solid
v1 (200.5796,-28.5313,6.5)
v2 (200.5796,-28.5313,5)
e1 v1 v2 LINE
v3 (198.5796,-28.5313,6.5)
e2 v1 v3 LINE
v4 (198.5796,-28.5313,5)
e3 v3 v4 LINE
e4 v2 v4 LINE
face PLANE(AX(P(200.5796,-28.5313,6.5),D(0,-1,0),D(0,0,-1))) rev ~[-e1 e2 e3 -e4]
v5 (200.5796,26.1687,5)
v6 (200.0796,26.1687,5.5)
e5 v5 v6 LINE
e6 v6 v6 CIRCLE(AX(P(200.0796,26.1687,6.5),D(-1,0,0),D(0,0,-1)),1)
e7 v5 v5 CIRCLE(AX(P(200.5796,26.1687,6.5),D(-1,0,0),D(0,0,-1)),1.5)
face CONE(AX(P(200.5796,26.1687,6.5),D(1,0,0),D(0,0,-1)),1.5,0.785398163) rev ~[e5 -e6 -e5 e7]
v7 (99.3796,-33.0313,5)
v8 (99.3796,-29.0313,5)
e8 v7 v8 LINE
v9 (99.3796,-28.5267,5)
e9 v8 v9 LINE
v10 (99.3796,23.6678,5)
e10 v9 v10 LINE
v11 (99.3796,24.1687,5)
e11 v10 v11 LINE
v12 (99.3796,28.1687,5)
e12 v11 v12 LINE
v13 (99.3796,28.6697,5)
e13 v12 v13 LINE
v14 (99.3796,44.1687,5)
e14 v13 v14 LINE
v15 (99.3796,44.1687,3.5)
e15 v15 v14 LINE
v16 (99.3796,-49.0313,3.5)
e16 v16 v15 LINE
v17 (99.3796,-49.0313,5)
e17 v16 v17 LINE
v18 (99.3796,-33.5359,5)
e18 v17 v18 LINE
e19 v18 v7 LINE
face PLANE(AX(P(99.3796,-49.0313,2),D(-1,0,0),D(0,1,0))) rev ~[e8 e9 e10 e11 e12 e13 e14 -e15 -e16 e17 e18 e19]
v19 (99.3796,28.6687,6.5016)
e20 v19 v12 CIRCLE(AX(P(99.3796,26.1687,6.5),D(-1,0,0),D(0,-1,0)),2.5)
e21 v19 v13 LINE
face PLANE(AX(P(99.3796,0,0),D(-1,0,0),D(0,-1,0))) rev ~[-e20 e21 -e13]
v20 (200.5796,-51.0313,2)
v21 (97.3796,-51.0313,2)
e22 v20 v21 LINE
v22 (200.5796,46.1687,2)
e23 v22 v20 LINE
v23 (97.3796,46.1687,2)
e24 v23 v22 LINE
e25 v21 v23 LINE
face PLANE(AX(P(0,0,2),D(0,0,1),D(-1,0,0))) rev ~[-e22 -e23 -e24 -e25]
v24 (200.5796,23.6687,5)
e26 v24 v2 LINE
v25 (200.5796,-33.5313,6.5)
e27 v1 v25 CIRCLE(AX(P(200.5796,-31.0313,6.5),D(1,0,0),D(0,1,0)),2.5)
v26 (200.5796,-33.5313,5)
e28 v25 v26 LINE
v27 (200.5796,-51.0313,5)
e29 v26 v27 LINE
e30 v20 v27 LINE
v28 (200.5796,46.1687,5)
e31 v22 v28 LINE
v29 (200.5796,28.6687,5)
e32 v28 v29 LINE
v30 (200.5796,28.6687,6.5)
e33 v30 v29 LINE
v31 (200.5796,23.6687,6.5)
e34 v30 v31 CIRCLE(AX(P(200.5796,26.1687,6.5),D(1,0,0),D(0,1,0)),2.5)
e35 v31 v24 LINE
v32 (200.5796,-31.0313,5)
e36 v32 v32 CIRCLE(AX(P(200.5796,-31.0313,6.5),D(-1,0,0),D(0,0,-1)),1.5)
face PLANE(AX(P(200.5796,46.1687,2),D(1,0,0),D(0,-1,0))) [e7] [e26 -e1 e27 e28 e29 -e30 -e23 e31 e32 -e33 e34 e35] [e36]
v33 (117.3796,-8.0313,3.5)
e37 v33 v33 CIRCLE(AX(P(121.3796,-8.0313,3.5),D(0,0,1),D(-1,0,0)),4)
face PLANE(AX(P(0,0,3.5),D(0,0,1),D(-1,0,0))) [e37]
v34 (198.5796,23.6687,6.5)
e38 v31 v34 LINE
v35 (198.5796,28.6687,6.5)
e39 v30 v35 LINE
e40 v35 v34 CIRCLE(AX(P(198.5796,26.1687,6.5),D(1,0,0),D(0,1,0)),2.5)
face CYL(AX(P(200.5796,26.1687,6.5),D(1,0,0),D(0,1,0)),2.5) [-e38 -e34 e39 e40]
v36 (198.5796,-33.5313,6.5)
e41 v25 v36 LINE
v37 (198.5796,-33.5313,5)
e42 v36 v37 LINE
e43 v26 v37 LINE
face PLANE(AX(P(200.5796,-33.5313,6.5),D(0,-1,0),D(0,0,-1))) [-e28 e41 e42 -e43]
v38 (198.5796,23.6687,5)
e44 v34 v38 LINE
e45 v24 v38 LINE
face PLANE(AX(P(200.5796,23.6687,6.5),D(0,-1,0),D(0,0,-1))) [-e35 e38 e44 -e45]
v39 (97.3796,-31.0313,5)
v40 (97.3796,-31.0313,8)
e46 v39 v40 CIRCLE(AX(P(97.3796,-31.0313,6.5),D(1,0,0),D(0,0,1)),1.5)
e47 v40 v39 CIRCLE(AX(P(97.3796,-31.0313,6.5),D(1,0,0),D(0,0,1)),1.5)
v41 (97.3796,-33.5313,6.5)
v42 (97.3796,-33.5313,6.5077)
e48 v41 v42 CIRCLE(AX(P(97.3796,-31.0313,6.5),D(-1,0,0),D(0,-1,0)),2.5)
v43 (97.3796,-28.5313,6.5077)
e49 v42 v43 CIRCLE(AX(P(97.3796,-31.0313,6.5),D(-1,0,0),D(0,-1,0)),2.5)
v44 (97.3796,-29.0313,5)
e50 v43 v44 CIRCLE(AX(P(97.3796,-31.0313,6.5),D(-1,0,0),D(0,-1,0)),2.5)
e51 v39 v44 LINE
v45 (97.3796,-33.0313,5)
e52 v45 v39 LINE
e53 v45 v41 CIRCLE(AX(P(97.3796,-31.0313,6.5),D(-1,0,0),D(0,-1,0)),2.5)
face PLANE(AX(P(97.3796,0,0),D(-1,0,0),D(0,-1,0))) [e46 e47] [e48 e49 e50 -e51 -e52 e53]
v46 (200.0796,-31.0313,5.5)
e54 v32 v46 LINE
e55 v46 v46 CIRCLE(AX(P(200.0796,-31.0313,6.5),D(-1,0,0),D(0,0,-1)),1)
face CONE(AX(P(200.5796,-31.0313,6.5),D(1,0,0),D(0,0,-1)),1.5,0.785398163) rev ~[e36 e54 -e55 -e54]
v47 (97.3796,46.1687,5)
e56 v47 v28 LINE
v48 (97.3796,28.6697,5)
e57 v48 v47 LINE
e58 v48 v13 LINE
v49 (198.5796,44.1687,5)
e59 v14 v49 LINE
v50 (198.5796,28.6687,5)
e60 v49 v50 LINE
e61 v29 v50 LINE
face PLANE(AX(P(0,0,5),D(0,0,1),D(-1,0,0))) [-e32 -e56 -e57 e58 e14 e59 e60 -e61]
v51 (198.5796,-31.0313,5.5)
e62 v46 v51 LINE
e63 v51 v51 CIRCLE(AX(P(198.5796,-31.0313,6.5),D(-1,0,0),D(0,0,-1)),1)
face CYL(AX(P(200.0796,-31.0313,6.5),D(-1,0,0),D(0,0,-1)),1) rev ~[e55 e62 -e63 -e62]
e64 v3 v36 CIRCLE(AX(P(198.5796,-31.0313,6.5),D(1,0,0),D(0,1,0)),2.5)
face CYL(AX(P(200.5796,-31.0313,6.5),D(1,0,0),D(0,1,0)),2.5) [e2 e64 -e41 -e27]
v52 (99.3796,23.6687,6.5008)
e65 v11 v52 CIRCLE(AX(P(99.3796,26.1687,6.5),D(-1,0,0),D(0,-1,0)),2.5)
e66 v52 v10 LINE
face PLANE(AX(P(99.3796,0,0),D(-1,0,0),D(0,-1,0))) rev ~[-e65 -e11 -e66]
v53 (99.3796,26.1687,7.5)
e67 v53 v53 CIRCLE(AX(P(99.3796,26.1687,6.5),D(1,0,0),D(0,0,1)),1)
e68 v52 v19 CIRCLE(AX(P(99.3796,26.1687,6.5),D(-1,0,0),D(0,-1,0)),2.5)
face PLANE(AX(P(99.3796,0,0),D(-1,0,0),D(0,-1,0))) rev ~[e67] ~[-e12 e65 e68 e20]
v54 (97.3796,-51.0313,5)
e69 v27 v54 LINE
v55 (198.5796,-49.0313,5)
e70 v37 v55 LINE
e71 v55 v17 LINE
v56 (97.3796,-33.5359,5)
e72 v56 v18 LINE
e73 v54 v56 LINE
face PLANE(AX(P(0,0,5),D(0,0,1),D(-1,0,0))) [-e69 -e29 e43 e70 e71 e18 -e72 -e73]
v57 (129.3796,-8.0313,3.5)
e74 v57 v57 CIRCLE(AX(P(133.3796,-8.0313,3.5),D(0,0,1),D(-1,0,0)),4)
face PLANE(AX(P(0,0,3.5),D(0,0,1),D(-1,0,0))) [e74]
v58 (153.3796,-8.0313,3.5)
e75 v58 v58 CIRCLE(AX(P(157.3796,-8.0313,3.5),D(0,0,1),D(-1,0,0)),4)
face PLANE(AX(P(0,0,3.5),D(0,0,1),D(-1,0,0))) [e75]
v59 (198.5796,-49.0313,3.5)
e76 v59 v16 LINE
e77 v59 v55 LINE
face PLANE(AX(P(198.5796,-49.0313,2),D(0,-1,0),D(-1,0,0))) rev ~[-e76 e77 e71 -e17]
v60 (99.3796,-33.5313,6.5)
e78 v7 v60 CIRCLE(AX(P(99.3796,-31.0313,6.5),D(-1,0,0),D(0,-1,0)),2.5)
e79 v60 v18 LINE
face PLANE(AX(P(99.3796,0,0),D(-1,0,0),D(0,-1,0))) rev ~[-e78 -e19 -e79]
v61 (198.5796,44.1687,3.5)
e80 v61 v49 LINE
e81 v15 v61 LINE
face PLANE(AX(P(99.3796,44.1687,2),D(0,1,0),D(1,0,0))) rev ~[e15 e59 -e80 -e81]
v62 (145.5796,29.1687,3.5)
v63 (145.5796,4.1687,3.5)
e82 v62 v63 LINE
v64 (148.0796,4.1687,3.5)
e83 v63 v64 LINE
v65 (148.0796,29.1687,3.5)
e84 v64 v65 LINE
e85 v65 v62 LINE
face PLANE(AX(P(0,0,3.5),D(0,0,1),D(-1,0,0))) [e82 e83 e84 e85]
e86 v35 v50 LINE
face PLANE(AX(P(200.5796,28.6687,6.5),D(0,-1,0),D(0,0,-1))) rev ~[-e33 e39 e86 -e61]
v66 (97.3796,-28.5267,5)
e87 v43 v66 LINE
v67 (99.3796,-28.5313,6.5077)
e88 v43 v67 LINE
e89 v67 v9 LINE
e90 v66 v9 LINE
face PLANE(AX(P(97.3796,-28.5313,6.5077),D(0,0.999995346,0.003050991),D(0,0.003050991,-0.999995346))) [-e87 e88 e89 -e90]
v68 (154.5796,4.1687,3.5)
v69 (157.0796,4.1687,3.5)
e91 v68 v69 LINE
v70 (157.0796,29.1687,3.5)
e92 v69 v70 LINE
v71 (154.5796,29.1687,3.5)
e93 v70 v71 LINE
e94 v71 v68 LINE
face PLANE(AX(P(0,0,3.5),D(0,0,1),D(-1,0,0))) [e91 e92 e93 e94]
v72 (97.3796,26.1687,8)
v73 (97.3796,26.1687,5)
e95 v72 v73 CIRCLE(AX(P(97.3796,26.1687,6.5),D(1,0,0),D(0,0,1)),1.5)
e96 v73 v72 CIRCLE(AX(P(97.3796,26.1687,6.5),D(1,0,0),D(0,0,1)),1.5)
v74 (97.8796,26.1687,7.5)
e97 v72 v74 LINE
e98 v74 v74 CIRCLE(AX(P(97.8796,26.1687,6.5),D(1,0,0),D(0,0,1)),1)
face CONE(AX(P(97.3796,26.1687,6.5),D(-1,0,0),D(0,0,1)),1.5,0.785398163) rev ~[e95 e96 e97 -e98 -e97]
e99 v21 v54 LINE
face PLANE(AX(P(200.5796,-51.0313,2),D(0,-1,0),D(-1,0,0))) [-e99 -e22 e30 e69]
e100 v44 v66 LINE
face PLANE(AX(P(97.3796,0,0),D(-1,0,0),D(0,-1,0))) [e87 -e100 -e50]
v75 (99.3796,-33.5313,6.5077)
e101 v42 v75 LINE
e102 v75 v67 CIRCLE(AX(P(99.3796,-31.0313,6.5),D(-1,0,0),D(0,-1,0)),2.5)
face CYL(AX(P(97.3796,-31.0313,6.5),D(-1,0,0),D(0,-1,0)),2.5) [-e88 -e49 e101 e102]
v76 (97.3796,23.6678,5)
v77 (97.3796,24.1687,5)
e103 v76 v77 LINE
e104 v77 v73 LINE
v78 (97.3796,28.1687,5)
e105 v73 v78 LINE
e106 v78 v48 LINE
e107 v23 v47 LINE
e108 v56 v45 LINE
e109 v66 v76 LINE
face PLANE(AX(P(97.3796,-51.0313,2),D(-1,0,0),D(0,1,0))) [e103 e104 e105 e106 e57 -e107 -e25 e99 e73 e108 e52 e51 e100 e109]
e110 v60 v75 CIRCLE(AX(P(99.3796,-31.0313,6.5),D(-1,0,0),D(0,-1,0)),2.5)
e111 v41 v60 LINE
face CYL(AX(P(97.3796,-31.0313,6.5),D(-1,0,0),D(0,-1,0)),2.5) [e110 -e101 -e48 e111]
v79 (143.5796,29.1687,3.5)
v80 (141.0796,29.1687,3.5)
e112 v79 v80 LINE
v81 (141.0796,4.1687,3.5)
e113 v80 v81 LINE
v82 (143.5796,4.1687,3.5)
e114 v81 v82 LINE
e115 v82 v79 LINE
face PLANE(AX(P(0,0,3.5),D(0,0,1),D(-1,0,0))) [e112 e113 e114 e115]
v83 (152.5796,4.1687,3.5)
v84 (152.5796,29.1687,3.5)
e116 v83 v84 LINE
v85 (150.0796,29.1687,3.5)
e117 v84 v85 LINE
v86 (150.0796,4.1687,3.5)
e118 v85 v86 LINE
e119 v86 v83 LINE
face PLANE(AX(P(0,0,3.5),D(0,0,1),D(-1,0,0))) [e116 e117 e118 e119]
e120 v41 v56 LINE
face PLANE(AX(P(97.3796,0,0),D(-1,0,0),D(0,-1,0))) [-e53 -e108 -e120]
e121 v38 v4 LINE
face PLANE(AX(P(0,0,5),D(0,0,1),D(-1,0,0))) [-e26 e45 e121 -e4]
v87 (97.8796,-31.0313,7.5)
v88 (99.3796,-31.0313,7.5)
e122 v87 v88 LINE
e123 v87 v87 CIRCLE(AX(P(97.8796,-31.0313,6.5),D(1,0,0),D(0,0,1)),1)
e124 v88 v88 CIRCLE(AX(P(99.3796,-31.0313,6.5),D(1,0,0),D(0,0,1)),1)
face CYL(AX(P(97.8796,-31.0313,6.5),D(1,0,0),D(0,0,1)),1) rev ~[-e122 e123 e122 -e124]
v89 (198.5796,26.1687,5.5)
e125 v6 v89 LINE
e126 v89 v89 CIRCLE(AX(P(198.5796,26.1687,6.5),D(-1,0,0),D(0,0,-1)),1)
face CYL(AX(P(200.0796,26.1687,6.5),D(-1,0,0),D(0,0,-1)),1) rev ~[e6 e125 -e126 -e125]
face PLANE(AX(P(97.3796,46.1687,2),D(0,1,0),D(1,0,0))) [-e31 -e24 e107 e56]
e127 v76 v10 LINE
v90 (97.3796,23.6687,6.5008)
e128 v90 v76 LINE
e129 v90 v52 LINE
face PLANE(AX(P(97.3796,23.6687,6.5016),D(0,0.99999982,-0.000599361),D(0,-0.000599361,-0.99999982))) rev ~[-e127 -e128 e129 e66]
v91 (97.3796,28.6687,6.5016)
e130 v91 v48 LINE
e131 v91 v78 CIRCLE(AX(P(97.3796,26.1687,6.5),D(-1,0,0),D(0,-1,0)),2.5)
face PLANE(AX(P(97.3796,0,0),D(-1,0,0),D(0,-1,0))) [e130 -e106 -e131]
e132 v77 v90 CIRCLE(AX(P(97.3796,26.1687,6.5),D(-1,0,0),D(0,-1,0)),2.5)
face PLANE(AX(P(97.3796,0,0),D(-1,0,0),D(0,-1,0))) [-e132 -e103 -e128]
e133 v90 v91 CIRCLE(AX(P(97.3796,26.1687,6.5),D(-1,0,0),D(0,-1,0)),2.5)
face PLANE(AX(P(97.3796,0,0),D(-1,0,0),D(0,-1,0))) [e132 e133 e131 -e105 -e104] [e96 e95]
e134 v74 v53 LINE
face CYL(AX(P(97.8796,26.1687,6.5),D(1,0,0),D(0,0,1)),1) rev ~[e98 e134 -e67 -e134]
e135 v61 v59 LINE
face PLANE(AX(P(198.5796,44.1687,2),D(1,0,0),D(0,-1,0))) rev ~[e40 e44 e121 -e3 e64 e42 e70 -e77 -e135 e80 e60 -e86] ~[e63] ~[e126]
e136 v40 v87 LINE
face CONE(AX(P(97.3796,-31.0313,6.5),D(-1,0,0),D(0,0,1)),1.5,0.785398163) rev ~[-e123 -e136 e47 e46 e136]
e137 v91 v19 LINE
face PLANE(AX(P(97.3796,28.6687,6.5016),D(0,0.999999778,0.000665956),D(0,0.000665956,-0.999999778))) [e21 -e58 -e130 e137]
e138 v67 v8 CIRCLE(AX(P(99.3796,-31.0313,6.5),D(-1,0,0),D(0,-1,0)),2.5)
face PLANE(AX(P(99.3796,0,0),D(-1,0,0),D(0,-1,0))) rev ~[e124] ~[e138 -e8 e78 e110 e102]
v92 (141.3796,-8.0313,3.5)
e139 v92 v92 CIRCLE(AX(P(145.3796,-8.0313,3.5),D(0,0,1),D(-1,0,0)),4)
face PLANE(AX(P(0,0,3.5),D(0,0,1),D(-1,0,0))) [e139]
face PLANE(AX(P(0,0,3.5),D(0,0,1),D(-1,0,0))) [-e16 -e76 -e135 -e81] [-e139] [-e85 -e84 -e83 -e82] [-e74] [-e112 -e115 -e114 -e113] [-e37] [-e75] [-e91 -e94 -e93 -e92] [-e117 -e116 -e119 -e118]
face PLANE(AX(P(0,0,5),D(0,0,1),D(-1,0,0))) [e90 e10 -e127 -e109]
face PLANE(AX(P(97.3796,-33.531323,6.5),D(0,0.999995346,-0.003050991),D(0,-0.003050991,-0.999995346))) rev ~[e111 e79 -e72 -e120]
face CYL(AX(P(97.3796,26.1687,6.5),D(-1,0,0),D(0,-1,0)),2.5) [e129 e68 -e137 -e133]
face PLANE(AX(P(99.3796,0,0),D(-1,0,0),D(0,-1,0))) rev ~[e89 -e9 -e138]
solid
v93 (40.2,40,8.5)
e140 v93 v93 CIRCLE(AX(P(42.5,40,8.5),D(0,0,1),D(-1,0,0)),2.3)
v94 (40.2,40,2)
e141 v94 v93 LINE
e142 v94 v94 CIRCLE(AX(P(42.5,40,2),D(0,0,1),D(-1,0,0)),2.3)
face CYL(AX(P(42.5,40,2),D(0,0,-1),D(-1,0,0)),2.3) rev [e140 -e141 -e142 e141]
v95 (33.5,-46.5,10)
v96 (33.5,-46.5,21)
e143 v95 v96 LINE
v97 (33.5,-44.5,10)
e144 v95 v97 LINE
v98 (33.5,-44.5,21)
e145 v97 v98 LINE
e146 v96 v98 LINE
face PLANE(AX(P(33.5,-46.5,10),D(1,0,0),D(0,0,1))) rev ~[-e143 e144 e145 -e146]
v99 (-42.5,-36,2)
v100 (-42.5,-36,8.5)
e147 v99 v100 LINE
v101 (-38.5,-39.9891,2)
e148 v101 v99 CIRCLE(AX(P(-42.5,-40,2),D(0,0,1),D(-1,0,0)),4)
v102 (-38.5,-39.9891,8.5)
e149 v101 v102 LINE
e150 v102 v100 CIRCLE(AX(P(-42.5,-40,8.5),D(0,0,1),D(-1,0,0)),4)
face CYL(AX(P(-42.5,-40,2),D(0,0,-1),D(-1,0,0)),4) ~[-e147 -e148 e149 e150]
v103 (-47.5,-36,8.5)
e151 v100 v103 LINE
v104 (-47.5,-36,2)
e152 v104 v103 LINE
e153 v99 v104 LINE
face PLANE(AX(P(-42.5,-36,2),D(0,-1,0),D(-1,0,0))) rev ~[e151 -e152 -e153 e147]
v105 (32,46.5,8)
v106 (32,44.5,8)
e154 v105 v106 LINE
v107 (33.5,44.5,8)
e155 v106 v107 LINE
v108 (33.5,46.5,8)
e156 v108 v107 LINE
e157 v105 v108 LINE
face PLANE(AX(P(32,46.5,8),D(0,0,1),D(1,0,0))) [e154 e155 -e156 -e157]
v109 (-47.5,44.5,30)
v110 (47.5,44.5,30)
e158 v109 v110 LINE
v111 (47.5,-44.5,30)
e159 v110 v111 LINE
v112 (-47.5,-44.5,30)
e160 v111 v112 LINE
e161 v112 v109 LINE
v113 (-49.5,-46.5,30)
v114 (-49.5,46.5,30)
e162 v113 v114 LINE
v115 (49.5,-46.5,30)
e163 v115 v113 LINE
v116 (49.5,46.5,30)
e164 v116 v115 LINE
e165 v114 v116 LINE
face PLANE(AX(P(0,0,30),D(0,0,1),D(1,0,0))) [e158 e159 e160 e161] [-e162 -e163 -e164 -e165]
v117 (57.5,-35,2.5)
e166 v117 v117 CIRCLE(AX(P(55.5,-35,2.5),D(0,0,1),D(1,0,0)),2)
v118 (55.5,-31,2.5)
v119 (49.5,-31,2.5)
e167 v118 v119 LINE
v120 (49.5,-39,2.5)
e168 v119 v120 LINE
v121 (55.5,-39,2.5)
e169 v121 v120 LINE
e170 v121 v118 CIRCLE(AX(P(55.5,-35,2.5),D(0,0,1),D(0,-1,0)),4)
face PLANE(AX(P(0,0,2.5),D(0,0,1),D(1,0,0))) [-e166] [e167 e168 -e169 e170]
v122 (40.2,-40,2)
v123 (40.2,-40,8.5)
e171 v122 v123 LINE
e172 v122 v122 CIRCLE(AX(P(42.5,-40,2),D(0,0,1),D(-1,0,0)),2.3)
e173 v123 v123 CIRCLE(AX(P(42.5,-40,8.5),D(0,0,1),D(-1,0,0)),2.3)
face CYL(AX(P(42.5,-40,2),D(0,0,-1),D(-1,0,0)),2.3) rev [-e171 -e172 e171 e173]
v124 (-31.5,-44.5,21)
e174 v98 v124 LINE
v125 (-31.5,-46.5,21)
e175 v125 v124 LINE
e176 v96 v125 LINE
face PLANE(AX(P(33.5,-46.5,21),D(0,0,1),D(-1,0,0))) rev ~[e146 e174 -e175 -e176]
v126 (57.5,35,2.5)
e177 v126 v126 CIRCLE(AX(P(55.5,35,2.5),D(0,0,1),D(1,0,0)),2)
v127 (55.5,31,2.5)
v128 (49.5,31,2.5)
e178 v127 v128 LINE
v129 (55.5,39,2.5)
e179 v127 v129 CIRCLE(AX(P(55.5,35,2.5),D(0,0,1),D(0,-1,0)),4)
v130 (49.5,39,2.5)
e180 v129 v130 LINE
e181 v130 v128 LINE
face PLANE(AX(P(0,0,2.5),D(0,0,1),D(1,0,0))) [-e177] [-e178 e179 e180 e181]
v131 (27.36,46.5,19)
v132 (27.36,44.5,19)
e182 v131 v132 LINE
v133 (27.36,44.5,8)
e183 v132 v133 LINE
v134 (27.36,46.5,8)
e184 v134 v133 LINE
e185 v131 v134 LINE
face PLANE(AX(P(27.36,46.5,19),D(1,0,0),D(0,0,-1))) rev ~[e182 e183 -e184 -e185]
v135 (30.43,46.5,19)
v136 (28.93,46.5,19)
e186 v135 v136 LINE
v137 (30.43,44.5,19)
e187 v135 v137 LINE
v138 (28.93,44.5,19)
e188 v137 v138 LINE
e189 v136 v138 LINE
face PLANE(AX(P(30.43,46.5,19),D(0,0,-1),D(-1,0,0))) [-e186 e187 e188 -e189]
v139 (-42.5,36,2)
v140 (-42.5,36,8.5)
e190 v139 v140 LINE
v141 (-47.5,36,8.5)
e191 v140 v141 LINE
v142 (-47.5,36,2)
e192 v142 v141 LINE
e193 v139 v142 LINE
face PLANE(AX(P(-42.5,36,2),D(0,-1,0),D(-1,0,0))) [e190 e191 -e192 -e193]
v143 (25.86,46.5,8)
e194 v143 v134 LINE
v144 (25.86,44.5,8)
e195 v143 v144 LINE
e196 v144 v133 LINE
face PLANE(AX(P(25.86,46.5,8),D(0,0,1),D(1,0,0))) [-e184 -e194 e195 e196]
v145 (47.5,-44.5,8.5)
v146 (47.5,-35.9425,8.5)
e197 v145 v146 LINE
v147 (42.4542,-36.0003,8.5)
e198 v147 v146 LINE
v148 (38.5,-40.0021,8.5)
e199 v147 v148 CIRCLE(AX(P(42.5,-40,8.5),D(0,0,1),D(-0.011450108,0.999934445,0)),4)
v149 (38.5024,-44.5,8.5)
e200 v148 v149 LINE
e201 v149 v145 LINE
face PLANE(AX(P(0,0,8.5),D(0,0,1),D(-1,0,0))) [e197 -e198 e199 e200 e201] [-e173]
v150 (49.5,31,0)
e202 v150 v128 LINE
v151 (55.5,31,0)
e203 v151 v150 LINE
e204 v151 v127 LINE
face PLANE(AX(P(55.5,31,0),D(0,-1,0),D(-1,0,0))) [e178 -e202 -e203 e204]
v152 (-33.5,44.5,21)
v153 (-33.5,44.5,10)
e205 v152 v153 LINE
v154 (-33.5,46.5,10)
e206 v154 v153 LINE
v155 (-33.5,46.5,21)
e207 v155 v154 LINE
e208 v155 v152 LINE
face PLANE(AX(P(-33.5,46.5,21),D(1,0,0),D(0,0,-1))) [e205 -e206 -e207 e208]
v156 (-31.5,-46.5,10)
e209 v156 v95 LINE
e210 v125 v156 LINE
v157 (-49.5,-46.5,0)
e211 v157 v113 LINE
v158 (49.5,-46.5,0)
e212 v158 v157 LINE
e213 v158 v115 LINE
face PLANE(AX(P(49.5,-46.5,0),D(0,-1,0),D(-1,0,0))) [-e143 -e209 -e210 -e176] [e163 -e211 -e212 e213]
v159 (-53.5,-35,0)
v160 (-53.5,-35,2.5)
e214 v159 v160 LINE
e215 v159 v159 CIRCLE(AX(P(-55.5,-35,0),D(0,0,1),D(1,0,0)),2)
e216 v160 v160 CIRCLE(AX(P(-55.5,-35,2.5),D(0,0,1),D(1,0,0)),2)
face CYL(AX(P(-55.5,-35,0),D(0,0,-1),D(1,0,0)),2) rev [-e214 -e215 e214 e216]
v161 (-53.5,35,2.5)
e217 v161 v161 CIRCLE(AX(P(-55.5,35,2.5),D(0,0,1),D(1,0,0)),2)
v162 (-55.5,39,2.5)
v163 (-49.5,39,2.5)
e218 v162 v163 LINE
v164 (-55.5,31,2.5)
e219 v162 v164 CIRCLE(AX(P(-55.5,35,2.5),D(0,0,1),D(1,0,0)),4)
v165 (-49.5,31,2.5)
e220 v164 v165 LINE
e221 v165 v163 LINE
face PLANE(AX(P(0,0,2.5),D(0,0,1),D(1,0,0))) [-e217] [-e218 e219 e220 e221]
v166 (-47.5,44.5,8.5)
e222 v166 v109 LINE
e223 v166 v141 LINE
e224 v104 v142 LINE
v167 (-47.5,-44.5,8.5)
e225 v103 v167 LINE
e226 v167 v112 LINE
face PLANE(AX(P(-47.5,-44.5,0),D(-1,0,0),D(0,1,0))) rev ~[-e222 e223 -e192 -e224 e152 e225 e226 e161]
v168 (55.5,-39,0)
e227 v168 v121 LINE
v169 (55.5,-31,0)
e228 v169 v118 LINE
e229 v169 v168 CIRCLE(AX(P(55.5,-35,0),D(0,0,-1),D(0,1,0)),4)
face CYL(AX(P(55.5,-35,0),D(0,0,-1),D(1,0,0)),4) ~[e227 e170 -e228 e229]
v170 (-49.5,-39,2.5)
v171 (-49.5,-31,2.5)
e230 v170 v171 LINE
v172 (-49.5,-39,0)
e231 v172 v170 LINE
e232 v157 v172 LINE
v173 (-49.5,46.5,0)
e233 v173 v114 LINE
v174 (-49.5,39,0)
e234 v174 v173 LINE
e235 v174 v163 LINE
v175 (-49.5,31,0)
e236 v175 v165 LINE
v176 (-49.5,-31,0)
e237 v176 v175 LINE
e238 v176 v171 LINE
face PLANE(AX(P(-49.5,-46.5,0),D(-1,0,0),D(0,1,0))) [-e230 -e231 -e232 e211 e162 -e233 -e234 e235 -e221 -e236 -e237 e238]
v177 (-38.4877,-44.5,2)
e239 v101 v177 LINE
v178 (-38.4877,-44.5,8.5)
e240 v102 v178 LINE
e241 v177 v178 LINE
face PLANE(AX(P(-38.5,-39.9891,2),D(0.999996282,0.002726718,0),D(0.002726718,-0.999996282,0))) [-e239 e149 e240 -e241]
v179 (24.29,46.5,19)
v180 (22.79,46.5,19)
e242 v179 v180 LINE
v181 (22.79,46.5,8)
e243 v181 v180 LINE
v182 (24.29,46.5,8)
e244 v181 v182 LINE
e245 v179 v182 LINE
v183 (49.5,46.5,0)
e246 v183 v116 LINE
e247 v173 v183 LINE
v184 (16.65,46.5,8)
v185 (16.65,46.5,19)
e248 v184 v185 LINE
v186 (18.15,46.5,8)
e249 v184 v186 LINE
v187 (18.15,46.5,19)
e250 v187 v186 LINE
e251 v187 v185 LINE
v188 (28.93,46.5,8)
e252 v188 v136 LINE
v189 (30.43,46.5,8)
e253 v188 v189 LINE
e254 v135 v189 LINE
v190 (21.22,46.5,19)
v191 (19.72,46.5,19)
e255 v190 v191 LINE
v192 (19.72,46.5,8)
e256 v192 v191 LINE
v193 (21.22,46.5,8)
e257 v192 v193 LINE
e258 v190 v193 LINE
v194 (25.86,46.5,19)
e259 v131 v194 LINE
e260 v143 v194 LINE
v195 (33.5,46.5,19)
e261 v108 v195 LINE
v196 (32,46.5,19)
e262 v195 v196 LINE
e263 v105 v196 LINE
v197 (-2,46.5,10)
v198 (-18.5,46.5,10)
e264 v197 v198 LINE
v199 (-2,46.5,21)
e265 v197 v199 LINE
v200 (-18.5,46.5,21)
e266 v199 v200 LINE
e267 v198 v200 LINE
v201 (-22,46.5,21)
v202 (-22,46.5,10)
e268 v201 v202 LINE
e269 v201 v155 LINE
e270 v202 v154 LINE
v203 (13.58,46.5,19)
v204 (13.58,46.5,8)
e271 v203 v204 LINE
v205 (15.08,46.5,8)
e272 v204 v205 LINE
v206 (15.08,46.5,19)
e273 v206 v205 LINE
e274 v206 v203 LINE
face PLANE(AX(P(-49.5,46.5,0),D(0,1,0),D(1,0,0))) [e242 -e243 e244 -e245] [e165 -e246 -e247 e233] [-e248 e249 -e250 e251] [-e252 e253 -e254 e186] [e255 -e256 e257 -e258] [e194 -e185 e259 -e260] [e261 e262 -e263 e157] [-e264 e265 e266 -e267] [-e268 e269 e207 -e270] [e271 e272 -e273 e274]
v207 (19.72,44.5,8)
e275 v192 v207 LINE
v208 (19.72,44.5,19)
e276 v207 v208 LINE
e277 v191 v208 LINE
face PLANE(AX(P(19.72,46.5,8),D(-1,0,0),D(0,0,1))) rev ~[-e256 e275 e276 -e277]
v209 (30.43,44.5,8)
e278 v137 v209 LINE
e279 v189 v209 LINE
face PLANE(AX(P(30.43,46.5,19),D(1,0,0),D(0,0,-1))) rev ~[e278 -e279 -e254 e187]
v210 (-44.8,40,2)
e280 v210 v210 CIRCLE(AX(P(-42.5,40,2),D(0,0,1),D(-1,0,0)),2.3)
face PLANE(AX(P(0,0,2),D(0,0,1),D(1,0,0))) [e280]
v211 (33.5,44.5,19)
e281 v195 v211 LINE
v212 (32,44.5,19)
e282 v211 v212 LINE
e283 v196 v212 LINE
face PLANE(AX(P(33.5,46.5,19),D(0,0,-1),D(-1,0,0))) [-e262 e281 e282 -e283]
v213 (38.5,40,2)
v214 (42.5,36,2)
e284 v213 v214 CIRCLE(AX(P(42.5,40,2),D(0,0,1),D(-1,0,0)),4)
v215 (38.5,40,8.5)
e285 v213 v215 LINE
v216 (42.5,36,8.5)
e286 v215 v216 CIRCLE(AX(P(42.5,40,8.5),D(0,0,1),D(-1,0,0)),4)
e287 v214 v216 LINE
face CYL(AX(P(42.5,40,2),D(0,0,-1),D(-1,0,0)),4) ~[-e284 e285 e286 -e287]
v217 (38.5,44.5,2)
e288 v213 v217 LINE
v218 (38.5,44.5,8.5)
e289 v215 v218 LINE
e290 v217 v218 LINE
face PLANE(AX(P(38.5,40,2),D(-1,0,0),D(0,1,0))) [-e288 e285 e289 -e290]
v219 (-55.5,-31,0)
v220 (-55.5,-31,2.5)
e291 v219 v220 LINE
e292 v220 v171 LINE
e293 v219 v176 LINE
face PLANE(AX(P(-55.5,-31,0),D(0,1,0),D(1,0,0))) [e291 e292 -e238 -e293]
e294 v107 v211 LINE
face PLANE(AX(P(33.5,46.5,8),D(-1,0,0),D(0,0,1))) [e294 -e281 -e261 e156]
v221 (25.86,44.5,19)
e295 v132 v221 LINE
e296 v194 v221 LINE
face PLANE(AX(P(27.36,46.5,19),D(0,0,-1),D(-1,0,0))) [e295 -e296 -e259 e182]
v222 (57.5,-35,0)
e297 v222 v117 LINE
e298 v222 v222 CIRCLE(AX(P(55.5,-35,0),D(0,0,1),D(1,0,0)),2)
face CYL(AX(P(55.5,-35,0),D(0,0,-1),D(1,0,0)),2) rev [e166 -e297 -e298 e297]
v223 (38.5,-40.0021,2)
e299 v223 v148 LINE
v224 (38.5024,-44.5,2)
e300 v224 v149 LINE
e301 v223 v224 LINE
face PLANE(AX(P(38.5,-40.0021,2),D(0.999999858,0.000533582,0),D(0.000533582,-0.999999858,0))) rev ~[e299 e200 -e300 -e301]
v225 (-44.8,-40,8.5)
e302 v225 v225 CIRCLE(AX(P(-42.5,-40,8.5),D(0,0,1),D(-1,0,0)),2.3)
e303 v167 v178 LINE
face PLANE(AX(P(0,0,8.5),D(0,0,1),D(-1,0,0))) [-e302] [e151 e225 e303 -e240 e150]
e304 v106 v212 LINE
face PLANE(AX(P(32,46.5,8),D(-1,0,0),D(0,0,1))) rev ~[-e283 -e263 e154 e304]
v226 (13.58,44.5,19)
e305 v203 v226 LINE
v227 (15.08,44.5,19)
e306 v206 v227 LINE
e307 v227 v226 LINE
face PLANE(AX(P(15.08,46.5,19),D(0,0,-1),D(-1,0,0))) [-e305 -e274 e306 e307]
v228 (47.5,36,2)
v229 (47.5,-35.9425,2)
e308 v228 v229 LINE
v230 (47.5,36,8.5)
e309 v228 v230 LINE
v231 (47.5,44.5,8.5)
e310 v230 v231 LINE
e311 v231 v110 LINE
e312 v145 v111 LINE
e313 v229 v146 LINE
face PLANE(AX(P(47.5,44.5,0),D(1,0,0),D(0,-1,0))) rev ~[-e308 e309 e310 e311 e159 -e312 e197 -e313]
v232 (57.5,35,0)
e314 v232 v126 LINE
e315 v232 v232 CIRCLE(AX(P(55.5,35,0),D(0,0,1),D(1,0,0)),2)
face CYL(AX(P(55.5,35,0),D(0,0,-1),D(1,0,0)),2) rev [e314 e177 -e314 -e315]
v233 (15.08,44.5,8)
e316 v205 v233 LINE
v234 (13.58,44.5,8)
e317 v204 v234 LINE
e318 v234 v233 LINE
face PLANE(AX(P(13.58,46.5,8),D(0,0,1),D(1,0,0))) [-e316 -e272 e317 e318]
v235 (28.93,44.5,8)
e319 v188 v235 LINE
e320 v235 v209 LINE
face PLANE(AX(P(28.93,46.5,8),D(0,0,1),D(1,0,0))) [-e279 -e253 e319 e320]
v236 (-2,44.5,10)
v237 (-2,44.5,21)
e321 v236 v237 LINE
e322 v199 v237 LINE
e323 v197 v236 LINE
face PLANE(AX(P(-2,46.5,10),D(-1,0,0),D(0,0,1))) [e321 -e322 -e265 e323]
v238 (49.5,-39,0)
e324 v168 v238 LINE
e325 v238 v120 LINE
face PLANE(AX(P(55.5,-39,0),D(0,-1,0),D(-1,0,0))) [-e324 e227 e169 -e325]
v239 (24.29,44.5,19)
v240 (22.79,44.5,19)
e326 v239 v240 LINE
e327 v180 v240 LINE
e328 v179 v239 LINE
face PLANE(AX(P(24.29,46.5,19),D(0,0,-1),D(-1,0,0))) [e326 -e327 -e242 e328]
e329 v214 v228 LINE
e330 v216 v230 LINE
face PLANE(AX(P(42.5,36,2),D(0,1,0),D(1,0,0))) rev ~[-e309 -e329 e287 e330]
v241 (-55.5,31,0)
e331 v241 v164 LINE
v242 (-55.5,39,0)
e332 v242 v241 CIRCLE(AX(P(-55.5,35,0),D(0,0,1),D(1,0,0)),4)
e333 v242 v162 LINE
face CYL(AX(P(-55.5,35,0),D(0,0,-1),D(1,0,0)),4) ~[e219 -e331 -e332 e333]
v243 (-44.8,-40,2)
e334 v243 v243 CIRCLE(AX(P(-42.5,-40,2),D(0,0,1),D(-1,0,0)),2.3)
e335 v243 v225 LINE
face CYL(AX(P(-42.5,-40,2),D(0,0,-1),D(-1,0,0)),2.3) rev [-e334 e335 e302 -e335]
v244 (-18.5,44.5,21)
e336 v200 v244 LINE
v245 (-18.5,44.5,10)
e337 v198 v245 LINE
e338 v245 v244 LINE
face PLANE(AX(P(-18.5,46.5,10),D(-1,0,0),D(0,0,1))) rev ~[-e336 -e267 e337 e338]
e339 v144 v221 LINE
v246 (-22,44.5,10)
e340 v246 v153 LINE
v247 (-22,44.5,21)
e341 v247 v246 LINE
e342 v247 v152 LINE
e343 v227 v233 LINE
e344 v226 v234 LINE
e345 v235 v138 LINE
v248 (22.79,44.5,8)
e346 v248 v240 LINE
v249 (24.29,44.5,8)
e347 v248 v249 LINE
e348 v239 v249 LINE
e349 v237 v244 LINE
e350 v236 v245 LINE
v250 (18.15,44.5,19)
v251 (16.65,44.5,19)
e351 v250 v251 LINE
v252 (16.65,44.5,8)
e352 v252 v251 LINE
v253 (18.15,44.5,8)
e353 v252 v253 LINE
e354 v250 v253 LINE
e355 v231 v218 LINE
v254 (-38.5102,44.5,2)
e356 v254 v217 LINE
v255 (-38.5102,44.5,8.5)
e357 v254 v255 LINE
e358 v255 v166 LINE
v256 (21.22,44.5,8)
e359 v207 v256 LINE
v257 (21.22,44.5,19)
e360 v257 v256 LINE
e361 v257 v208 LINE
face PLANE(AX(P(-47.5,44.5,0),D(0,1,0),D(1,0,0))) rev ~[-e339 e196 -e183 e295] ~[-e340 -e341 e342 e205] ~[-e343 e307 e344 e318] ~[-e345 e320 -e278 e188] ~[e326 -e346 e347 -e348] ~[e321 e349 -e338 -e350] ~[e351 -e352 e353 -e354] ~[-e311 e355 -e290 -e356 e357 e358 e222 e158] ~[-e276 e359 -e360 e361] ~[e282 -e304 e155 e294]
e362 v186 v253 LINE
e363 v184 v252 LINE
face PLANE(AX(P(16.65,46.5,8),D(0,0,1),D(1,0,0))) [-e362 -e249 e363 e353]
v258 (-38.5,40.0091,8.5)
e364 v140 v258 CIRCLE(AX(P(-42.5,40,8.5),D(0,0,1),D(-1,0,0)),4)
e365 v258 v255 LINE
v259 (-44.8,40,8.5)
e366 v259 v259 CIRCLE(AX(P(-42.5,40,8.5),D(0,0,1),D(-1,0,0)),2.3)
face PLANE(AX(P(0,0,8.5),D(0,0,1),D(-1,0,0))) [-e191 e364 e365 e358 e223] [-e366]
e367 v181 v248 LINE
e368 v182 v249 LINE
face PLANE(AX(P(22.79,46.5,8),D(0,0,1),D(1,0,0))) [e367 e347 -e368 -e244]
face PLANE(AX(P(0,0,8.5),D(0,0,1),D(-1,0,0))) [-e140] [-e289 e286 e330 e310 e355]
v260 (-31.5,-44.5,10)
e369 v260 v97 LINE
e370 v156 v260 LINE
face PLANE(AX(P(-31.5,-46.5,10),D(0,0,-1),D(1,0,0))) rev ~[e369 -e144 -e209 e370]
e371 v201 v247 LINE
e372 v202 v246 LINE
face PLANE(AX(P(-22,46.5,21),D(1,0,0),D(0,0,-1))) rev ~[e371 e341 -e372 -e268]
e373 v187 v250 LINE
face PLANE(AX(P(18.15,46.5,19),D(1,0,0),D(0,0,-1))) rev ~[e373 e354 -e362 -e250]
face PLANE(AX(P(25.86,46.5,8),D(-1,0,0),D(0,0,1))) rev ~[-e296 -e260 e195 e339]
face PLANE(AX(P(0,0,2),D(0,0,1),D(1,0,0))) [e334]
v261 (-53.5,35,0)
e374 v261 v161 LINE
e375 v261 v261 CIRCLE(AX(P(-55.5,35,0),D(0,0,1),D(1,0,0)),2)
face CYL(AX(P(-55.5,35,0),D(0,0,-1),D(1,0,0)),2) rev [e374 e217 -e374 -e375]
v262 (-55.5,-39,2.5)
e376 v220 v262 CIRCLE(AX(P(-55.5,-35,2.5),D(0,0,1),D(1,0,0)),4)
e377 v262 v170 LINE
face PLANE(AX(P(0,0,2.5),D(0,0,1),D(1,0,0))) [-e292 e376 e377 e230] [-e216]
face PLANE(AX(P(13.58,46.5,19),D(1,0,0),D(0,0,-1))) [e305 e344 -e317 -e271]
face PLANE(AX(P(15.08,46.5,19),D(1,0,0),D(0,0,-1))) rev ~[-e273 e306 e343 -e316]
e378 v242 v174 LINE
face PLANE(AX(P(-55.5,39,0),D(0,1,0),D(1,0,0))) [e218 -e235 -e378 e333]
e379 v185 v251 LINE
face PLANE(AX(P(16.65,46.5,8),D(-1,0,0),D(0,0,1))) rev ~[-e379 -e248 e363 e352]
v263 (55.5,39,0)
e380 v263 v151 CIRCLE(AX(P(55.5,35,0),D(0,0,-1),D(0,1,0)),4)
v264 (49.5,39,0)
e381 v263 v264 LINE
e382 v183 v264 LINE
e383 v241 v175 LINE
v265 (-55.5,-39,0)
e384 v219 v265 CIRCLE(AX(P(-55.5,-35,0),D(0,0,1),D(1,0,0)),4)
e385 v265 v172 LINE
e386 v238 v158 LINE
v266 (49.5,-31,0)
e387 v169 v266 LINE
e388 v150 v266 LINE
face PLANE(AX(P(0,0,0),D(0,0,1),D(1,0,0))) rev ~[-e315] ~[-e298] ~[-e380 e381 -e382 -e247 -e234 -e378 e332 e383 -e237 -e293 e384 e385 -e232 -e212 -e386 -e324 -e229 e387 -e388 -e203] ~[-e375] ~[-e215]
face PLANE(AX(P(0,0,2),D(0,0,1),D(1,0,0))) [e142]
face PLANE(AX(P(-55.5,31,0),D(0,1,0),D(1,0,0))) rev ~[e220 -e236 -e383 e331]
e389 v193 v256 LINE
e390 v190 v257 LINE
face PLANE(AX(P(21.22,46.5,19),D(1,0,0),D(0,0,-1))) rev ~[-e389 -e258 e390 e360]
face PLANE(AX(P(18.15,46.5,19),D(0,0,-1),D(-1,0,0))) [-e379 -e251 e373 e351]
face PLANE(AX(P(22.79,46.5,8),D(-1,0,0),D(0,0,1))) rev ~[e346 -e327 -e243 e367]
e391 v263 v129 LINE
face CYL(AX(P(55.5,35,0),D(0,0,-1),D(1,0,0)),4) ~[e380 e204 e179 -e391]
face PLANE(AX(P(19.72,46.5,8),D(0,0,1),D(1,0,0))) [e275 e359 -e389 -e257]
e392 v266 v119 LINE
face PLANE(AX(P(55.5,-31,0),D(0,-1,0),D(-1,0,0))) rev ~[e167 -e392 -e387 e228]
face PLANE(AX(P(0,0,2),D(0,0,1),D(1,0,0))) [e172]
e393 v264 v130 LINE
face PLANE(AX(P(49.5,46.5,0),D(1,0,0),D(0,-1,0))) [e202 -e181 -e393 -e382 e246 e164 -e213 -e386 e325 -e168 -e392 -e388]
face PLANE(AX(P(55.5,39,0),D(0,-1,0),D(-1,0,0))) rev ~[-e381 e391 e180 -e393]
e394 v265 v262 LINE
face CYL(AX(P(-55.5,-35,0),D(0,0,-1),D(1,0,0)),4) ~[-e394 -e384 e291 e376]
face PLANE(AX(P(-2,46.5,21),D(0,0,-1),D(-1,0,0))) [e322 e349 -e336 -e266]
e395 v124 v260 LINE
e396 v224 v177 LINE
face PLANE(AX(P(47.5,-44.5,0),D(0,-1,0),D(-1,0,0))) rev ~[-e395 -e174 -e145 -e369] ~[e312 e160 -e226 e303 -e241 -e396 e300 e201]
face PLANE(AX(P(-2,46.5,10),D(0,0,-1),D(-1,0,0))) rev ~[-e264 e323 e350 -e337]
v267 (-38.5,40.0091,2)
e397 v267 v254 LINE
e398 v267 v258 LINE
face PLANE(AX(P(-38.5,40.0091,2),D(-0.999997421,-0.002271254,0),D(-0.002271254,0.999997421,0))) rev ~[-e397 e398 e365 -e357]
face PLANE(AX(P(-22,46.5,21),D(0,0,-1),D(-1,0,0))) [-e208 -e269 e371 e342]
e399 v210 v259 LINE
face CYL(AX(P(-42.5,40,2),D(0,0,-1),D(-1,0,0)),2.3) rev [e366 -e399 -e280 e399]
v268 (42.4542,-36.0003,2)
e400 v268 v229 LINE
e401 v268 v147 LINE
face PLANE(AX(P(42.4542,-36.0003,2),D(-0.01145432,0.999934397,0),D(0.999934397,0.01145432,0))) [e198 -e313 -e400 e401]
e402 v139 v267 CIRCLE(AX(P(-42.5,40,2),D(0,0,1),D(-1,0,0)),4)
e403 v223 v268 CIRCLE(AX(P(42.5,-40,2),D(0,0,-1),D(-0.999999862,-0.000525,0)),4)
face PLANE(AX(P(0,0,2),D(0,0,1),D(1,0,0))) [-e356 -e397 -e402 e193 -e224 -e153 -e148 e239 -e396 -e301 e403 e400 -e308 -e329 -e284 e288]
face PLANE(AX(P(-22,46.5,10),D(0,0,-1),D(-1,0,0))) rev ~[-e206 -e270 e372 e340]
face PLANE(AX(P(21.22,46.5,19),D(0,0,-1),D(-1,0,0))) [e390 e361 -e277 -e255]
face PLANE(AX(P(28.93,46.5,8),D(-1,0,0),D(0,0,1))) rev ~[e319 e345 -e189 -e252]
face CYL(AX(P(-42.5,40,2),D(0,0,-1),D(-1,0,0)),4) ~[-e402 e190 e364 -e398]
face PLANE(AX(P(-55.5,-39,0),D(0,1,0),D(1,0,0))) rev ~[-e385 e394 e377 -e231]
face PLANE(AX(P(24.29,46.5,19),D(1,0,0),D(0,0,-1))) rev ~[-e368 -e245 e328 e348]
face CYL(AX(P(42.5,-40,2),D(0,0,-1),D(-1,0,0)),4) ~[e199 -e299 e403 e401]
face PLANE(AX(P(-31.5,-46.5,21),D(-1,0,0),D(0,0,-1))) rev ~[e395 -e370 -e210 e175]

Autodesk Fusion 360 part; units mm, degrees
sketch "Esquisse1" plane through (0, 0, 0) normal (0, 0, 1) x (1, 0, 0)
  line L0 (47.5, -44.5) -> (-47.5, -44.5)
  line L1 (-47.5, -44.5) -> (-47.5, 44.5)
  line L2 (-47.5, 44.5) -> (47.5, 44.5)
  line L3 (47.5, 44.5) -> (47.5, -44.5)
  line L4 (47.5, -44.5) -> (-47.5, 44.5) construction
  line L5 (-47.5, -44.5) -> (47.5, 44.5) construction
  line L6 (49.5, -46.5) -> (-49.5, -46.5)
  line L7 (-49.5, -46.5) -> (-49.5, 46.5)
  line L8 (-49.5, 46.5) -> (49.5, 46.5)
  line L9 (49.5, 46.5) -> (49.5, -46.5)
  circle A0 centre (55.5, -35) radius 4
  line L10 (55.5, -39) -> (49.5, -39)
  line L11 (55.5, -31) -> (49.5, -31)
  circle A1 centre (55.5, 35) radius 4
  line L12 (55.5, -35) -> (55.5, 39) construction
  line L13 (60, 0) -> (0, 0) construction
  line L14 (55.5, 39) -> (49.5, 39)
  line L15 (55.5, 31) -> (49.5, 31)
  circle A2 centre (-55.5, -35) radius 4
  circle A3 centre (-55.5, 35) radius 4
  line L16 (-55.5, -35) -> (-55.5, 35) construction
  line L17 (-55.5, -39) -> (-49.5, -39)
  line L18 (-55.5, -31) -> (-49.5, -31)
  line L19 (-55.5, 31) -> (-49.5, 31)
  line L20 (-55.5, 39) -> (-49.5, 39)
  circle A4 centre (-55.5, 35) radius 2
  circle A5 centre (55.5, -35) radius 2
  circle A6 centre (-55.5, -35) radius 2
  circle A7 centre (55.5, 35) radius 2
  dimension "d1" = 95
  dimension "d2" = 89
  dimension "d3" = -2
  dimension "d56" = 8
  dimension "d59" = 8
  dimension "d60" = 70
  dimension "d61" = 8
  dimension "d62" = 8
  dimension "d63" = 6
  dimension "d64" = 6
  dimension "d65" = 4
  dimension "d66" = 4
  dimension "d67" = 4
  dimension "d68" = 4
extrude "Extrusion1" add sketch "Esquisse1" along normal blind 2 contours L0 L1 L2 L3 makes body 1
extrude "Extrusion8" add sketch "Esquisse1" along normal blind 2.5 separate body contours L9 A0 L10 L11 | L7 A2 L17 L18 | A0 | A2 | L9 A1 L14 L15 | L7 A3 L19 L20 | A1 | A3 makes body 2 at (50.8333, 35, 0) makes body 3 at (50.8333, -35, 0) makes body 4 at (-50.8333, 35, 0) makes body 5 at (-50.8333, -35, 0)
extrude "Extrusion2" add sketch "Esquisse1" along normal blind 30 contours L6 L7 L8 L9 bodies 1 2 3 4 5
sketch "Esquisse2" plane through (0, -46.5, 0) normal (0, -1, 0) x (1, 0, 0)
  line L0 (-49.5, 0) -> (49.5, 0)
  line L1 (49.5, 0) -> (49.5, 30)
  line L2 (49.5, 30) -> (-49.5, 30)
  line L3 (-49.5, 30) -> (-49.5, 0)
  line L4 (-31.5, 0) -> (33.5, 0)
  line L5 (33.5, 0) -> (33.5, 21)
  line L6 (33.5, 21) -> (-31.5, 21)
  line L7 (-31.5, 21) -> (-31.5, 0)
  line L8 (-31.5, 10) -> (33.5, 10)
  dimension "d8" = 18
  dimension "d9" = 65
  dimension "d11" = 10
  dimension "d135" = 11
extrude "Extrusion3" cut sketch "Esquisse2" against normal up to surface (2 mm away) contours L5 L6 L7 L8 bodies 1
sketch "Esquisse3" plane through (0, 46.5, 0) normal (0, 1, 0) x (-1, 0, 0)
  line L0 (-49.5, 0) -> (49.5, 0)
  line L1 (49.5, 0) -> (49.5, 30)
  line L2 (49.5, 30) -> (-49.5, 30)
  line L3 (-49.5, 30) -> (-49.5, 0)
  line L4 (33.5, 0) -> (2, 0)
  line L5 (2, 0) -> (2, 21)
  line L6 (2, 21) -> (33.5, 21)
  line L7 (33.5, 21) -> (33.5, 0)
  line L8 (18.5, 21) -> (22, 21)
  line L9 (22, 21) -> (22, 0)
  line L10 (22, 0) -> (18.5, 0)
  line L11 (18.5, 0) -> (18.5, 21)
  line L12 (2, 10) -> (33.5, 10)
  dimension "d14" = 16
  dimension "d18" = 3.5
  dimension "d19" = 10
  dimension "d137" = 11.5
  dimension "d138" = 16.5
  dimension "d144" = 11
extrude "Extrusion4" cut sketch "Esquisse3" against normal up to surface (2 mm away) contours L5 L6 L11 L12 | L6 L7 L9 L12 bodies 1
sketch "Esquisse4" plane through (0, 0, 2) normal (0, 0, 1) x (-1, 0, 0)
  line L0 (-47.5, -44.5) -> (47.5, -44.5)
  line L1 (47.5, -44.5) -> (47.5, 44.5)
  line L2 (47.5, 44.5) -> (-47.5, 44.5)
  line L3 (31.5, 44.5) -> (31.5, 46.5)
  line L4 (31.5, 46.5) -> (-33.5, 46.5)
  line L5 (-33.5, 46.5) -> (-33.5, 44.5)
  line L6 (-47.5, 44.5) -> (-47.5, -44.5)
  circle A0 centre (-42.5, 40) radius 4
  circle A1 centre (42.5, 40) radius 4
  line L7 (0, -48) -> (0, 48) construction
  circle A2 centre (-42.5, -40) radius 4
  circle A3 centre (42.5, -40) radius 4
  line L8 (-58.0065, 0) -> (65, 0) construction
  line L9 (18.5, -44.5) -> (2, -44.5)
  line L10 (2, -44.5) -> (2, -46.5)
  line L11 (2, -46.5) -> (18.5, -46.5)
  line L12 (18.5, -46.5) -> (18.5, -44.5)
  line L13 (33.5, -44.5) -> (22, -44.5)
  line L14 (22, -44.5) -> (22, -46.5)
  line L15 (22, -46.5) -> (33.5, -46.5)
  line L16 (33.5, -46.5) -> (33.5, -44.5)
  line L17 (-33.5, 44.5) -> (31.5, 44.5)
  line L18 (42.5, -36) -> (47.5, -36)
  line L19 (38.5, -40.0091) -> (38.5102, -44.5)
  line L20 (-42.5, -36) -> (-47.5, -36)
  line L21 (-38.5, -40) -> (-38.5, -44.5)
  line L22 (-42.4542, 36.0003) -> (-47.5, 35.9425)
  line L23 (-38.5, 40.0021) -> (-38.5024, 44.5)
  line L24 (42.5, 36) -> (47.5, 36)
  line L25 (38.5, 39.9891) -> (38.4877, 44.5)
  circle A4 centre (-42.5, 40) radius 2.3
  circle A5 centre (42.5, 40) radius 2.3
  circle A6 centre (42.5, -40) radius 2.3
  circle A7 centre (-42.5, -40) radius 2.3
  dimension "d22" = 85
  dimension "d23" = 85
  dimension "d24" = 8
  dimension "d25" = 8
  dimension "d26" = 8
  dimension "d27" = 8
  dimension "d37" = 80
  dimension "d140" = 4.6
  dimension "d141" = 4.6
  dimension "d142" = 4.6
  dimension "d143" = 4.6
extrude "Extrusion5" add sketch "Esquisse4" along normal blind 6.5 contours L0 L6 A2 L20 L21 | A2 | L2 L6 A0 L22 L23 | A0 | L0 L1 A3 L18 L19 | A3 | L1 L2 A1 L24 L25 | A1 bodies 1
sketch "Esquisse6" plane through (0, 46.5, 0) normal (0, 1, 0) x (-1, 0, 0)
  line L0 (2, 21) -> (18.5, 21)
  line L1 (18.5, 21) -> (18.5, 10)
  line L2 (18.5, 10) -> (2, 10)
  line L3 (2, 10) -> (2, 21)
  line L4 (33.5, 21) -> (33.5, 10)
  line L5 (33.5, 10) -> (22, 10)
  line L6 (22, 10) -> (22, 21)
  line L7 (22, 21) -> (33.5, 21)
  line L8 (-49.5, 0) -> (49.5, 0)
  line L9 (49.5, 0) -> (49.5, 30)
  line L10 (49.5, 30) -> (-49.5, 30)
  line L11 (-49.5, 30) -> (-49.5, 0)
  line L12 (-33.5, 19) -> (-13.58, 19)
  line L13 (-13.58, 19) -> (-13.58, 8)
  line L14 (-13.58, 8) -> (-33.5, 8)
  line L15 (-33.5, 8) -> (-33.5, 19)
  line L16 (-32, 19) -> (-30.43, 19)
  line L17 (-30.43, 19) -> (-30.43, 8)
  line L18 (-30.43, 8) -> (-32, 8)
  line L19 (-32, 8) -> (-32, 19)
  line L20 (-28.93, 19) -> (-27.36, 19)
  line L21 (-27.36, 19) -> (-27.36, 8)
  line L22 (-27.36, 8) -> (-28.93, 8)
  line L23 (-28.93, 8) -> (-28.93, 19)
  line L24 (-25.86, 19) -> (-24.29, 19)
  line L25 (-24.29, 19) -> (-24.29, 8)
  line L26 (-24.29, 8) -> (-25.86, 8)
  line L27 (-25.86, 8) -> (-25.86, 19)
  line L28 (-22.79, 19) -> (-21.22, 19)
  line L29 (-21.22, 19) -> (-21.22, 8)
  line L30 (-21.22, 8) -> (-22.79, 8)
  line L31 (-22.79, 8) -> (-22.79, 19)
  line L32 (-19.72, 19) -> (-18.15, 19)
  line L33 (-18.15, 19) -> (-18.15, 8)
  line L34 (-18.15, 8) -> (-19.72, 8)
  line L35 (-19.72, 8) -> (-19.72, 19)
  line L36 (-16.65, 19) -> (-15.08, 19)
  line L37 (-15.08, 19) -> (-15.08, 8)
  line L38 (-15.08, 8) -> (-16.65, 8)
  line L39 (-16.65, 8) -> (-16.65, 19)
  dimension "d38" = 16
  dimension "d40" = 11
  dimension "d41" = 8
  dimension "d42" = 1.57
  dimension "d43" = 1.57
  dimension "d44" = 1.57
  dimension "d45" = 1.57
  dimension "d46" = 1.57
  dimension "d47" = 1.57
  dimension "d48" = 1.5
  dimension "d49" = 1.5
  dimension "d50" = 1.5
  dimension "d51" = 1.5
  dimension "d52" = 1.5
  dimension "d53" = 1.5
  dimension "d136" = 1.5
extrude "Extrusion7" cut sketch "Esquisse6" against normal up to surface (2 mm away) contours L12 L14 L15 L19 | L12 L14 L17 L23 | L12 L14 L21 L27 | L12 L14 L25 L31 | L12 L14 L29 L35 | L12 L14 L33 L39 | L12 L13 L14 L37 bodies 1
sketch "Esquisse8" plane through (0, 0, 2) normal (0, 0, 1) x (-1, 0, 0)
  line L0 (-38.5, -44.5) -> (38.5102, -44.5)
  line L1 (47.5, -36) -> (47.5, 36)
  line L2 (38.4877, 44.5) -> (-38.5024, 44.5)
  line L3 (-47.5, 35.9425) -> (-47.5, -36)
  line L4 (-99.3796, -44.1687) -> (-198.5796, -44.1687)
  line L5 (-198.5796, -44.1687) -> (-198.5796, 49.0313)
  line L6 (-198.5796, 49.0313) -> (-99.3796, 49.0313)
  line L7 (-99.3796, 49.0313) -> (-99.3796, -44.1687)
  line L8 (-200.5796, 51.0313) -> (-97.3796, 51.0313)
  line L9 (-97.3796, 51.0313) -> (-97.3796, -46.1687)
  line L10 (-97.3796, -46.1687) -> (-200.5796, -46.1687)
  line L11 (-200.5796, -46.1687) -> (-200.5796, 51.0313)
  line L12 (42.5012, -36) -> (47.5, -36)
  line L13 (38.5102, -44.5) -> (38.5, -40.0091)
  arc A0 (42.5012, -36) -> (38.5, -40.0091) centre (42.5, -40) ccw
  line L14 (47.5, 36) -> (42.5, 36)
  arc A1 (38.5, 39.9891) -> (42.5, 36) centre (42.5, 40) ccw
  line L15 (38.5, 39.9891) -> (38.4877, 44.5)
  line L16 (-38.5024, 44.5) -> (-38.5, 40.0021)
  arc A2 (-42.4542, 36.0003) -> (-38.5, 40.0021) centre (-42.5, 40) ccw
  line L17 (-42.4542, 36.0003) -> (-47.5, 35.9425)
  line L18 (-47.5, -36) -> (-42.5, -36)
  arc A3 (-38.5, -40.0012) -> (-42.5, -36) centre (-42.5, -40) ccw
  line L19 (-38.5, -40.0012) -> (-38.5, -44.5)
  dimension "d69" = 99.2
  dimension "d70" = 93.2
  dimension "d71" = -2
extrude "Extrusion9" add sketch "Esquisse8" along normal blind 1.5 separate body contours L4 L5 L6 L7 makes body 6
extrude "Extrusion10" add sketch "Esquisse8" along normal blind 3 contours L8 L9 L10 L11 bodies 6
sketch "Esquisse9" plane through (200.5796, 0, 0) normal (1, 0, 0) x (0, 1, 0)
  line L0 (-51.0313, 2) -> (46.1687, 2)
  line L1 (46.1687, 2) -> (46.1687, 5)
  line L2 (46.1687, 5) -> (-51.0313, 5)
  line L3 (-51.0313, 5) -> (-51.0313, 2)
  circle A0 centre (26.1687, 6.5) radius 2.5
  line L4 (46.1687, 2) -> (-51.0313, 2)
  line L5 (23.6687, 6.5) -> (23.6687, 5)
  line L6 (28.6687, 6.5) -> (28.6687, 5)
  circle A1 centre (-31.0313, 6.5) radius 2.5
  line L7 (-28.5313, 6.5) -> (-28.5313, 5)
  line L8 (-33.5313, 6.5) -> (-33.5313, 5)
  line L9 (-51.0313, 2) -> (46.1687, 2)
  line L10 (46.1687, 2) -> (46.1687, 5)
  line L11 (46.1687, 5) -> (-51.0313, 5)
  line L12 (-51.0313, 5) -> (-51.0313, 2)
  point P0 (-40, 2)
  dimension "d76" = 5
  dimension "d77" = 4.5
  dimension "d80" = 5
  dimension "d81" = 4.5
  dimension "d82" = 20
  dimension "d83" = 20
extrude "Extrusion11" add sketch "Esquisse9" against normal up to surface (2 mm away) contours L2 A1 L8 L11 | L2 A0 L6 L11 | L2 A1 L11 | L2 A1 L11 | L2 A0 L11 | L2 A0 L11 | L2 A1 L7 L11 | L2 A0 L5 L11 bodies 6
hole "Perçage3" at (200.5796, -31.0313, 6.5) at (200.5796, 26.1687, 6.5) direction (-1, 0, 0) diameter 2 depth 11 tip angle 118 countersink diameter 3 countersink angle 90 bodies 6
sketch "Esquisse10" plane through (97.3796, 0, 0) normal (-1, 0, 0) x (0, -1, 0)
  line L0 (-46.1687, 2) -> (51.0313, 2)
  line L1 (51.0313, 2) -> (51.0313, 5)
  line L2 (51.0313, 5) -> (-46.1687, 5)
  line L3 (-46.1687, 5) -> (-46.1687, 2)
  circle A0 centre (-26.1687, 6.5) radius 2.5
  line L4 (51.0313, 2) -> (-46.1687, 2)
  line L5 (-28.6687, 6.5016) -> (-28.6697, 5)
  line L6 (-23.6687, 6.5016) -> (-23.6678, 5)
  circle A1 centre (31.0313, 6.5) radius 2.5
  line L7 (28.5313, 6.5077) -> (28.5267, 5)
  line L8 (33.5313, 6.5077) -> (33.5359, 5)
  dimension "d99" = 5
  dimension "d100" = 4.5
  dimension "d101" = 20
  dimension "d102" = 5
  dimension "d103" = 4.5
  dimension "d104" = 20
extrude "Extrusion12" add sketch "Esquisse10" against normal up to surface (2 mm away) contours L2 A0 L5 | L2 A1 L8 | L2 A0 | L2 A1 L8 | L2 A0 L6 | L2 A1 L7 picked at (-26.9468, 6.6584) bodies 6
hole "Perçage4" at (97.3796, 26.1687, 6.5) at (97.3796, -31.0313, 6.5) direction (1, 0, 0) diameter 2 depth 11 tip angle 118 countersink diameter 3 countersink angle 90 bodies 6
sketch "Esquisse11" plane through (0, 0, 3.5) normal (0, 0, 1) x (-1, 0, 0)
  line L0 (-99.3796, 49.0313) -> (-198.5796, 49.0313)
  line L1 (-198.5796, 49.0313) -> (-198.5796, -44.1687)
  line L2 (-198.5796, -44.1687) -> (-99.3796, -44.1687)
  line L3 (-99.3796, -44.1687) -> (-99.3796, 49.0313)
  line L4 (-157.0796, -29.1687) -> (-154.5796, -29.1687)
  line L5 (-154.5796, -29.1687) -> (-154.5796, -4.1687)
  line L6 (-154.5796, -4.1687) -> (-157.0796, -4.1687)
  line L7 (-157.0796, -4.1687) -> (-157.0796, -29.1687)
  line L8 (-152.5796, -29.1687) -> (-150.0796, -29.1687)
  line L9 (-150.0796, -29.1687) -> (-150.0796, -4.1687)
  line L10 (-150.0796, -4.1687) -> (-152.5796, -4.1687)
  line L11 (-152.5796, -4.1687) -> (-152.5796, -29.1687)
  line L12 (-148.0796, -29.1687) -> (-145.5796, -29.1687)
  line L13 (-145.5796, -29.1687) -> (-145.5796, -4.1687)
  line L14 (-145.5796, -4.1687) -> (-148.0796, -4.1687)
  line L15 (-148.0796, -4.1687) -> (-148.0796, -29.1687)
  line L16 (-143.5796, -29.1687) -> (-141.0796, -29.1687)
  line L17 (-141.0796, -29.1687) -> (-141.0796, -4.1687)
  line L18 (-141.0796, -4.1687) -> (-143.5796, -4.1687)
  line L19 (-143.5796, -4.1687) -> (-143.5796, -29.1687)
  line L20 (-148.9796, -44.1687) -> (-148.9796, 49.0313) construction
  circle A0 centre (-121.3796, 8.0313) radius 4
  circle A1 centre (-133.3796, 8.0313) radius 4
  circle A2 centre (-145.3796, 8.0313) radius 4
  circle A3 centre (-157.3796, 8.0313) radius 4
  line L21 (-160, 8.0313) -> (-121.3796, 8.0313) construction
  dimension "d112" = 2.5
  dimension "d113" = 2.5
  dimension "d114" = 2.5
  dimension "d115" = 2.5
  dimension "d116" = 2
  dimension "d117" = 2
  dimension "d118" = 2
  dimension "d119" = 15
  dimension "d120" = 25
  dimension "d121" = 25
  dimension "d122" = 25
  dimension "d123" = 25
  dimension "d124" = 41.5
  dimension "d126" = 8
  dimension "d127" = 22
  dimension "d128" = 8
  dimension "d129" = 8
  dimension "d130" = 8
  dimension "d131" = 12
  dimension "d132" = 12
  dimension "d133" = 12
  dimension "d134" = 41
extrude "Extrusion13" cut sketch "Esquisse11" along normal through all contours L4 L5 L6 L7 | L8 L9 L10 L11 | L12 L13 L14 L15 | L16 L17 L18 L19 | A0 | A1 | A2 | A3 bodies 6
equation "d25 = d24"
equation "d26 = d24"
equation "d27 = d24"
equation "d43 = d42"
equation "d44 = d42"
equation "d45 = d42"
equation "d46 = d42"
equation "d47 = d42"
equation "d49 = d48"
equation "d50 = d48"
equation "d51 = d48"
equation "d52 = d48"
equation "d53 = d48"
equation "d59 = d56"
equation "d61 = d56"
equation "d62 = d56"
equation "d64 = d63"
equation "d65 = d66"
equation "d67 = d66"
equation "d68 = d66"
equation "d69 = d1 - ( 2 * d3 ) + 0.2 mm"
equation "d70 = d2 - ( 2 * d3 ) + 0.2 mm"
equation "d80 = d76"
equation "d81 = d77"
equation "d83 = d82"
equation "d99 = d76"
equation "d100 = d77"
equation "d101 = d82"
equation "d102 = d76"
equation "d103 = d77"
equation "d104 = d82"
equation "d113 = d112"
equation "d114 = d112"
equation "d115 = d112"
equation "d117 = d116"
equation "d118 = d116"
equation "d121 = d120"
equation "d122 = d120"
equation "d123 = d120"
equation "d128 = d126"
equation "d129 = d126"
equation "d130 = d126"
equation "d132 = d131"
equation "d133 = d131"
equation "d136 = d48"
equation "d141 = d140"
equation "d142 = d140"
equation "d143 = d140"
